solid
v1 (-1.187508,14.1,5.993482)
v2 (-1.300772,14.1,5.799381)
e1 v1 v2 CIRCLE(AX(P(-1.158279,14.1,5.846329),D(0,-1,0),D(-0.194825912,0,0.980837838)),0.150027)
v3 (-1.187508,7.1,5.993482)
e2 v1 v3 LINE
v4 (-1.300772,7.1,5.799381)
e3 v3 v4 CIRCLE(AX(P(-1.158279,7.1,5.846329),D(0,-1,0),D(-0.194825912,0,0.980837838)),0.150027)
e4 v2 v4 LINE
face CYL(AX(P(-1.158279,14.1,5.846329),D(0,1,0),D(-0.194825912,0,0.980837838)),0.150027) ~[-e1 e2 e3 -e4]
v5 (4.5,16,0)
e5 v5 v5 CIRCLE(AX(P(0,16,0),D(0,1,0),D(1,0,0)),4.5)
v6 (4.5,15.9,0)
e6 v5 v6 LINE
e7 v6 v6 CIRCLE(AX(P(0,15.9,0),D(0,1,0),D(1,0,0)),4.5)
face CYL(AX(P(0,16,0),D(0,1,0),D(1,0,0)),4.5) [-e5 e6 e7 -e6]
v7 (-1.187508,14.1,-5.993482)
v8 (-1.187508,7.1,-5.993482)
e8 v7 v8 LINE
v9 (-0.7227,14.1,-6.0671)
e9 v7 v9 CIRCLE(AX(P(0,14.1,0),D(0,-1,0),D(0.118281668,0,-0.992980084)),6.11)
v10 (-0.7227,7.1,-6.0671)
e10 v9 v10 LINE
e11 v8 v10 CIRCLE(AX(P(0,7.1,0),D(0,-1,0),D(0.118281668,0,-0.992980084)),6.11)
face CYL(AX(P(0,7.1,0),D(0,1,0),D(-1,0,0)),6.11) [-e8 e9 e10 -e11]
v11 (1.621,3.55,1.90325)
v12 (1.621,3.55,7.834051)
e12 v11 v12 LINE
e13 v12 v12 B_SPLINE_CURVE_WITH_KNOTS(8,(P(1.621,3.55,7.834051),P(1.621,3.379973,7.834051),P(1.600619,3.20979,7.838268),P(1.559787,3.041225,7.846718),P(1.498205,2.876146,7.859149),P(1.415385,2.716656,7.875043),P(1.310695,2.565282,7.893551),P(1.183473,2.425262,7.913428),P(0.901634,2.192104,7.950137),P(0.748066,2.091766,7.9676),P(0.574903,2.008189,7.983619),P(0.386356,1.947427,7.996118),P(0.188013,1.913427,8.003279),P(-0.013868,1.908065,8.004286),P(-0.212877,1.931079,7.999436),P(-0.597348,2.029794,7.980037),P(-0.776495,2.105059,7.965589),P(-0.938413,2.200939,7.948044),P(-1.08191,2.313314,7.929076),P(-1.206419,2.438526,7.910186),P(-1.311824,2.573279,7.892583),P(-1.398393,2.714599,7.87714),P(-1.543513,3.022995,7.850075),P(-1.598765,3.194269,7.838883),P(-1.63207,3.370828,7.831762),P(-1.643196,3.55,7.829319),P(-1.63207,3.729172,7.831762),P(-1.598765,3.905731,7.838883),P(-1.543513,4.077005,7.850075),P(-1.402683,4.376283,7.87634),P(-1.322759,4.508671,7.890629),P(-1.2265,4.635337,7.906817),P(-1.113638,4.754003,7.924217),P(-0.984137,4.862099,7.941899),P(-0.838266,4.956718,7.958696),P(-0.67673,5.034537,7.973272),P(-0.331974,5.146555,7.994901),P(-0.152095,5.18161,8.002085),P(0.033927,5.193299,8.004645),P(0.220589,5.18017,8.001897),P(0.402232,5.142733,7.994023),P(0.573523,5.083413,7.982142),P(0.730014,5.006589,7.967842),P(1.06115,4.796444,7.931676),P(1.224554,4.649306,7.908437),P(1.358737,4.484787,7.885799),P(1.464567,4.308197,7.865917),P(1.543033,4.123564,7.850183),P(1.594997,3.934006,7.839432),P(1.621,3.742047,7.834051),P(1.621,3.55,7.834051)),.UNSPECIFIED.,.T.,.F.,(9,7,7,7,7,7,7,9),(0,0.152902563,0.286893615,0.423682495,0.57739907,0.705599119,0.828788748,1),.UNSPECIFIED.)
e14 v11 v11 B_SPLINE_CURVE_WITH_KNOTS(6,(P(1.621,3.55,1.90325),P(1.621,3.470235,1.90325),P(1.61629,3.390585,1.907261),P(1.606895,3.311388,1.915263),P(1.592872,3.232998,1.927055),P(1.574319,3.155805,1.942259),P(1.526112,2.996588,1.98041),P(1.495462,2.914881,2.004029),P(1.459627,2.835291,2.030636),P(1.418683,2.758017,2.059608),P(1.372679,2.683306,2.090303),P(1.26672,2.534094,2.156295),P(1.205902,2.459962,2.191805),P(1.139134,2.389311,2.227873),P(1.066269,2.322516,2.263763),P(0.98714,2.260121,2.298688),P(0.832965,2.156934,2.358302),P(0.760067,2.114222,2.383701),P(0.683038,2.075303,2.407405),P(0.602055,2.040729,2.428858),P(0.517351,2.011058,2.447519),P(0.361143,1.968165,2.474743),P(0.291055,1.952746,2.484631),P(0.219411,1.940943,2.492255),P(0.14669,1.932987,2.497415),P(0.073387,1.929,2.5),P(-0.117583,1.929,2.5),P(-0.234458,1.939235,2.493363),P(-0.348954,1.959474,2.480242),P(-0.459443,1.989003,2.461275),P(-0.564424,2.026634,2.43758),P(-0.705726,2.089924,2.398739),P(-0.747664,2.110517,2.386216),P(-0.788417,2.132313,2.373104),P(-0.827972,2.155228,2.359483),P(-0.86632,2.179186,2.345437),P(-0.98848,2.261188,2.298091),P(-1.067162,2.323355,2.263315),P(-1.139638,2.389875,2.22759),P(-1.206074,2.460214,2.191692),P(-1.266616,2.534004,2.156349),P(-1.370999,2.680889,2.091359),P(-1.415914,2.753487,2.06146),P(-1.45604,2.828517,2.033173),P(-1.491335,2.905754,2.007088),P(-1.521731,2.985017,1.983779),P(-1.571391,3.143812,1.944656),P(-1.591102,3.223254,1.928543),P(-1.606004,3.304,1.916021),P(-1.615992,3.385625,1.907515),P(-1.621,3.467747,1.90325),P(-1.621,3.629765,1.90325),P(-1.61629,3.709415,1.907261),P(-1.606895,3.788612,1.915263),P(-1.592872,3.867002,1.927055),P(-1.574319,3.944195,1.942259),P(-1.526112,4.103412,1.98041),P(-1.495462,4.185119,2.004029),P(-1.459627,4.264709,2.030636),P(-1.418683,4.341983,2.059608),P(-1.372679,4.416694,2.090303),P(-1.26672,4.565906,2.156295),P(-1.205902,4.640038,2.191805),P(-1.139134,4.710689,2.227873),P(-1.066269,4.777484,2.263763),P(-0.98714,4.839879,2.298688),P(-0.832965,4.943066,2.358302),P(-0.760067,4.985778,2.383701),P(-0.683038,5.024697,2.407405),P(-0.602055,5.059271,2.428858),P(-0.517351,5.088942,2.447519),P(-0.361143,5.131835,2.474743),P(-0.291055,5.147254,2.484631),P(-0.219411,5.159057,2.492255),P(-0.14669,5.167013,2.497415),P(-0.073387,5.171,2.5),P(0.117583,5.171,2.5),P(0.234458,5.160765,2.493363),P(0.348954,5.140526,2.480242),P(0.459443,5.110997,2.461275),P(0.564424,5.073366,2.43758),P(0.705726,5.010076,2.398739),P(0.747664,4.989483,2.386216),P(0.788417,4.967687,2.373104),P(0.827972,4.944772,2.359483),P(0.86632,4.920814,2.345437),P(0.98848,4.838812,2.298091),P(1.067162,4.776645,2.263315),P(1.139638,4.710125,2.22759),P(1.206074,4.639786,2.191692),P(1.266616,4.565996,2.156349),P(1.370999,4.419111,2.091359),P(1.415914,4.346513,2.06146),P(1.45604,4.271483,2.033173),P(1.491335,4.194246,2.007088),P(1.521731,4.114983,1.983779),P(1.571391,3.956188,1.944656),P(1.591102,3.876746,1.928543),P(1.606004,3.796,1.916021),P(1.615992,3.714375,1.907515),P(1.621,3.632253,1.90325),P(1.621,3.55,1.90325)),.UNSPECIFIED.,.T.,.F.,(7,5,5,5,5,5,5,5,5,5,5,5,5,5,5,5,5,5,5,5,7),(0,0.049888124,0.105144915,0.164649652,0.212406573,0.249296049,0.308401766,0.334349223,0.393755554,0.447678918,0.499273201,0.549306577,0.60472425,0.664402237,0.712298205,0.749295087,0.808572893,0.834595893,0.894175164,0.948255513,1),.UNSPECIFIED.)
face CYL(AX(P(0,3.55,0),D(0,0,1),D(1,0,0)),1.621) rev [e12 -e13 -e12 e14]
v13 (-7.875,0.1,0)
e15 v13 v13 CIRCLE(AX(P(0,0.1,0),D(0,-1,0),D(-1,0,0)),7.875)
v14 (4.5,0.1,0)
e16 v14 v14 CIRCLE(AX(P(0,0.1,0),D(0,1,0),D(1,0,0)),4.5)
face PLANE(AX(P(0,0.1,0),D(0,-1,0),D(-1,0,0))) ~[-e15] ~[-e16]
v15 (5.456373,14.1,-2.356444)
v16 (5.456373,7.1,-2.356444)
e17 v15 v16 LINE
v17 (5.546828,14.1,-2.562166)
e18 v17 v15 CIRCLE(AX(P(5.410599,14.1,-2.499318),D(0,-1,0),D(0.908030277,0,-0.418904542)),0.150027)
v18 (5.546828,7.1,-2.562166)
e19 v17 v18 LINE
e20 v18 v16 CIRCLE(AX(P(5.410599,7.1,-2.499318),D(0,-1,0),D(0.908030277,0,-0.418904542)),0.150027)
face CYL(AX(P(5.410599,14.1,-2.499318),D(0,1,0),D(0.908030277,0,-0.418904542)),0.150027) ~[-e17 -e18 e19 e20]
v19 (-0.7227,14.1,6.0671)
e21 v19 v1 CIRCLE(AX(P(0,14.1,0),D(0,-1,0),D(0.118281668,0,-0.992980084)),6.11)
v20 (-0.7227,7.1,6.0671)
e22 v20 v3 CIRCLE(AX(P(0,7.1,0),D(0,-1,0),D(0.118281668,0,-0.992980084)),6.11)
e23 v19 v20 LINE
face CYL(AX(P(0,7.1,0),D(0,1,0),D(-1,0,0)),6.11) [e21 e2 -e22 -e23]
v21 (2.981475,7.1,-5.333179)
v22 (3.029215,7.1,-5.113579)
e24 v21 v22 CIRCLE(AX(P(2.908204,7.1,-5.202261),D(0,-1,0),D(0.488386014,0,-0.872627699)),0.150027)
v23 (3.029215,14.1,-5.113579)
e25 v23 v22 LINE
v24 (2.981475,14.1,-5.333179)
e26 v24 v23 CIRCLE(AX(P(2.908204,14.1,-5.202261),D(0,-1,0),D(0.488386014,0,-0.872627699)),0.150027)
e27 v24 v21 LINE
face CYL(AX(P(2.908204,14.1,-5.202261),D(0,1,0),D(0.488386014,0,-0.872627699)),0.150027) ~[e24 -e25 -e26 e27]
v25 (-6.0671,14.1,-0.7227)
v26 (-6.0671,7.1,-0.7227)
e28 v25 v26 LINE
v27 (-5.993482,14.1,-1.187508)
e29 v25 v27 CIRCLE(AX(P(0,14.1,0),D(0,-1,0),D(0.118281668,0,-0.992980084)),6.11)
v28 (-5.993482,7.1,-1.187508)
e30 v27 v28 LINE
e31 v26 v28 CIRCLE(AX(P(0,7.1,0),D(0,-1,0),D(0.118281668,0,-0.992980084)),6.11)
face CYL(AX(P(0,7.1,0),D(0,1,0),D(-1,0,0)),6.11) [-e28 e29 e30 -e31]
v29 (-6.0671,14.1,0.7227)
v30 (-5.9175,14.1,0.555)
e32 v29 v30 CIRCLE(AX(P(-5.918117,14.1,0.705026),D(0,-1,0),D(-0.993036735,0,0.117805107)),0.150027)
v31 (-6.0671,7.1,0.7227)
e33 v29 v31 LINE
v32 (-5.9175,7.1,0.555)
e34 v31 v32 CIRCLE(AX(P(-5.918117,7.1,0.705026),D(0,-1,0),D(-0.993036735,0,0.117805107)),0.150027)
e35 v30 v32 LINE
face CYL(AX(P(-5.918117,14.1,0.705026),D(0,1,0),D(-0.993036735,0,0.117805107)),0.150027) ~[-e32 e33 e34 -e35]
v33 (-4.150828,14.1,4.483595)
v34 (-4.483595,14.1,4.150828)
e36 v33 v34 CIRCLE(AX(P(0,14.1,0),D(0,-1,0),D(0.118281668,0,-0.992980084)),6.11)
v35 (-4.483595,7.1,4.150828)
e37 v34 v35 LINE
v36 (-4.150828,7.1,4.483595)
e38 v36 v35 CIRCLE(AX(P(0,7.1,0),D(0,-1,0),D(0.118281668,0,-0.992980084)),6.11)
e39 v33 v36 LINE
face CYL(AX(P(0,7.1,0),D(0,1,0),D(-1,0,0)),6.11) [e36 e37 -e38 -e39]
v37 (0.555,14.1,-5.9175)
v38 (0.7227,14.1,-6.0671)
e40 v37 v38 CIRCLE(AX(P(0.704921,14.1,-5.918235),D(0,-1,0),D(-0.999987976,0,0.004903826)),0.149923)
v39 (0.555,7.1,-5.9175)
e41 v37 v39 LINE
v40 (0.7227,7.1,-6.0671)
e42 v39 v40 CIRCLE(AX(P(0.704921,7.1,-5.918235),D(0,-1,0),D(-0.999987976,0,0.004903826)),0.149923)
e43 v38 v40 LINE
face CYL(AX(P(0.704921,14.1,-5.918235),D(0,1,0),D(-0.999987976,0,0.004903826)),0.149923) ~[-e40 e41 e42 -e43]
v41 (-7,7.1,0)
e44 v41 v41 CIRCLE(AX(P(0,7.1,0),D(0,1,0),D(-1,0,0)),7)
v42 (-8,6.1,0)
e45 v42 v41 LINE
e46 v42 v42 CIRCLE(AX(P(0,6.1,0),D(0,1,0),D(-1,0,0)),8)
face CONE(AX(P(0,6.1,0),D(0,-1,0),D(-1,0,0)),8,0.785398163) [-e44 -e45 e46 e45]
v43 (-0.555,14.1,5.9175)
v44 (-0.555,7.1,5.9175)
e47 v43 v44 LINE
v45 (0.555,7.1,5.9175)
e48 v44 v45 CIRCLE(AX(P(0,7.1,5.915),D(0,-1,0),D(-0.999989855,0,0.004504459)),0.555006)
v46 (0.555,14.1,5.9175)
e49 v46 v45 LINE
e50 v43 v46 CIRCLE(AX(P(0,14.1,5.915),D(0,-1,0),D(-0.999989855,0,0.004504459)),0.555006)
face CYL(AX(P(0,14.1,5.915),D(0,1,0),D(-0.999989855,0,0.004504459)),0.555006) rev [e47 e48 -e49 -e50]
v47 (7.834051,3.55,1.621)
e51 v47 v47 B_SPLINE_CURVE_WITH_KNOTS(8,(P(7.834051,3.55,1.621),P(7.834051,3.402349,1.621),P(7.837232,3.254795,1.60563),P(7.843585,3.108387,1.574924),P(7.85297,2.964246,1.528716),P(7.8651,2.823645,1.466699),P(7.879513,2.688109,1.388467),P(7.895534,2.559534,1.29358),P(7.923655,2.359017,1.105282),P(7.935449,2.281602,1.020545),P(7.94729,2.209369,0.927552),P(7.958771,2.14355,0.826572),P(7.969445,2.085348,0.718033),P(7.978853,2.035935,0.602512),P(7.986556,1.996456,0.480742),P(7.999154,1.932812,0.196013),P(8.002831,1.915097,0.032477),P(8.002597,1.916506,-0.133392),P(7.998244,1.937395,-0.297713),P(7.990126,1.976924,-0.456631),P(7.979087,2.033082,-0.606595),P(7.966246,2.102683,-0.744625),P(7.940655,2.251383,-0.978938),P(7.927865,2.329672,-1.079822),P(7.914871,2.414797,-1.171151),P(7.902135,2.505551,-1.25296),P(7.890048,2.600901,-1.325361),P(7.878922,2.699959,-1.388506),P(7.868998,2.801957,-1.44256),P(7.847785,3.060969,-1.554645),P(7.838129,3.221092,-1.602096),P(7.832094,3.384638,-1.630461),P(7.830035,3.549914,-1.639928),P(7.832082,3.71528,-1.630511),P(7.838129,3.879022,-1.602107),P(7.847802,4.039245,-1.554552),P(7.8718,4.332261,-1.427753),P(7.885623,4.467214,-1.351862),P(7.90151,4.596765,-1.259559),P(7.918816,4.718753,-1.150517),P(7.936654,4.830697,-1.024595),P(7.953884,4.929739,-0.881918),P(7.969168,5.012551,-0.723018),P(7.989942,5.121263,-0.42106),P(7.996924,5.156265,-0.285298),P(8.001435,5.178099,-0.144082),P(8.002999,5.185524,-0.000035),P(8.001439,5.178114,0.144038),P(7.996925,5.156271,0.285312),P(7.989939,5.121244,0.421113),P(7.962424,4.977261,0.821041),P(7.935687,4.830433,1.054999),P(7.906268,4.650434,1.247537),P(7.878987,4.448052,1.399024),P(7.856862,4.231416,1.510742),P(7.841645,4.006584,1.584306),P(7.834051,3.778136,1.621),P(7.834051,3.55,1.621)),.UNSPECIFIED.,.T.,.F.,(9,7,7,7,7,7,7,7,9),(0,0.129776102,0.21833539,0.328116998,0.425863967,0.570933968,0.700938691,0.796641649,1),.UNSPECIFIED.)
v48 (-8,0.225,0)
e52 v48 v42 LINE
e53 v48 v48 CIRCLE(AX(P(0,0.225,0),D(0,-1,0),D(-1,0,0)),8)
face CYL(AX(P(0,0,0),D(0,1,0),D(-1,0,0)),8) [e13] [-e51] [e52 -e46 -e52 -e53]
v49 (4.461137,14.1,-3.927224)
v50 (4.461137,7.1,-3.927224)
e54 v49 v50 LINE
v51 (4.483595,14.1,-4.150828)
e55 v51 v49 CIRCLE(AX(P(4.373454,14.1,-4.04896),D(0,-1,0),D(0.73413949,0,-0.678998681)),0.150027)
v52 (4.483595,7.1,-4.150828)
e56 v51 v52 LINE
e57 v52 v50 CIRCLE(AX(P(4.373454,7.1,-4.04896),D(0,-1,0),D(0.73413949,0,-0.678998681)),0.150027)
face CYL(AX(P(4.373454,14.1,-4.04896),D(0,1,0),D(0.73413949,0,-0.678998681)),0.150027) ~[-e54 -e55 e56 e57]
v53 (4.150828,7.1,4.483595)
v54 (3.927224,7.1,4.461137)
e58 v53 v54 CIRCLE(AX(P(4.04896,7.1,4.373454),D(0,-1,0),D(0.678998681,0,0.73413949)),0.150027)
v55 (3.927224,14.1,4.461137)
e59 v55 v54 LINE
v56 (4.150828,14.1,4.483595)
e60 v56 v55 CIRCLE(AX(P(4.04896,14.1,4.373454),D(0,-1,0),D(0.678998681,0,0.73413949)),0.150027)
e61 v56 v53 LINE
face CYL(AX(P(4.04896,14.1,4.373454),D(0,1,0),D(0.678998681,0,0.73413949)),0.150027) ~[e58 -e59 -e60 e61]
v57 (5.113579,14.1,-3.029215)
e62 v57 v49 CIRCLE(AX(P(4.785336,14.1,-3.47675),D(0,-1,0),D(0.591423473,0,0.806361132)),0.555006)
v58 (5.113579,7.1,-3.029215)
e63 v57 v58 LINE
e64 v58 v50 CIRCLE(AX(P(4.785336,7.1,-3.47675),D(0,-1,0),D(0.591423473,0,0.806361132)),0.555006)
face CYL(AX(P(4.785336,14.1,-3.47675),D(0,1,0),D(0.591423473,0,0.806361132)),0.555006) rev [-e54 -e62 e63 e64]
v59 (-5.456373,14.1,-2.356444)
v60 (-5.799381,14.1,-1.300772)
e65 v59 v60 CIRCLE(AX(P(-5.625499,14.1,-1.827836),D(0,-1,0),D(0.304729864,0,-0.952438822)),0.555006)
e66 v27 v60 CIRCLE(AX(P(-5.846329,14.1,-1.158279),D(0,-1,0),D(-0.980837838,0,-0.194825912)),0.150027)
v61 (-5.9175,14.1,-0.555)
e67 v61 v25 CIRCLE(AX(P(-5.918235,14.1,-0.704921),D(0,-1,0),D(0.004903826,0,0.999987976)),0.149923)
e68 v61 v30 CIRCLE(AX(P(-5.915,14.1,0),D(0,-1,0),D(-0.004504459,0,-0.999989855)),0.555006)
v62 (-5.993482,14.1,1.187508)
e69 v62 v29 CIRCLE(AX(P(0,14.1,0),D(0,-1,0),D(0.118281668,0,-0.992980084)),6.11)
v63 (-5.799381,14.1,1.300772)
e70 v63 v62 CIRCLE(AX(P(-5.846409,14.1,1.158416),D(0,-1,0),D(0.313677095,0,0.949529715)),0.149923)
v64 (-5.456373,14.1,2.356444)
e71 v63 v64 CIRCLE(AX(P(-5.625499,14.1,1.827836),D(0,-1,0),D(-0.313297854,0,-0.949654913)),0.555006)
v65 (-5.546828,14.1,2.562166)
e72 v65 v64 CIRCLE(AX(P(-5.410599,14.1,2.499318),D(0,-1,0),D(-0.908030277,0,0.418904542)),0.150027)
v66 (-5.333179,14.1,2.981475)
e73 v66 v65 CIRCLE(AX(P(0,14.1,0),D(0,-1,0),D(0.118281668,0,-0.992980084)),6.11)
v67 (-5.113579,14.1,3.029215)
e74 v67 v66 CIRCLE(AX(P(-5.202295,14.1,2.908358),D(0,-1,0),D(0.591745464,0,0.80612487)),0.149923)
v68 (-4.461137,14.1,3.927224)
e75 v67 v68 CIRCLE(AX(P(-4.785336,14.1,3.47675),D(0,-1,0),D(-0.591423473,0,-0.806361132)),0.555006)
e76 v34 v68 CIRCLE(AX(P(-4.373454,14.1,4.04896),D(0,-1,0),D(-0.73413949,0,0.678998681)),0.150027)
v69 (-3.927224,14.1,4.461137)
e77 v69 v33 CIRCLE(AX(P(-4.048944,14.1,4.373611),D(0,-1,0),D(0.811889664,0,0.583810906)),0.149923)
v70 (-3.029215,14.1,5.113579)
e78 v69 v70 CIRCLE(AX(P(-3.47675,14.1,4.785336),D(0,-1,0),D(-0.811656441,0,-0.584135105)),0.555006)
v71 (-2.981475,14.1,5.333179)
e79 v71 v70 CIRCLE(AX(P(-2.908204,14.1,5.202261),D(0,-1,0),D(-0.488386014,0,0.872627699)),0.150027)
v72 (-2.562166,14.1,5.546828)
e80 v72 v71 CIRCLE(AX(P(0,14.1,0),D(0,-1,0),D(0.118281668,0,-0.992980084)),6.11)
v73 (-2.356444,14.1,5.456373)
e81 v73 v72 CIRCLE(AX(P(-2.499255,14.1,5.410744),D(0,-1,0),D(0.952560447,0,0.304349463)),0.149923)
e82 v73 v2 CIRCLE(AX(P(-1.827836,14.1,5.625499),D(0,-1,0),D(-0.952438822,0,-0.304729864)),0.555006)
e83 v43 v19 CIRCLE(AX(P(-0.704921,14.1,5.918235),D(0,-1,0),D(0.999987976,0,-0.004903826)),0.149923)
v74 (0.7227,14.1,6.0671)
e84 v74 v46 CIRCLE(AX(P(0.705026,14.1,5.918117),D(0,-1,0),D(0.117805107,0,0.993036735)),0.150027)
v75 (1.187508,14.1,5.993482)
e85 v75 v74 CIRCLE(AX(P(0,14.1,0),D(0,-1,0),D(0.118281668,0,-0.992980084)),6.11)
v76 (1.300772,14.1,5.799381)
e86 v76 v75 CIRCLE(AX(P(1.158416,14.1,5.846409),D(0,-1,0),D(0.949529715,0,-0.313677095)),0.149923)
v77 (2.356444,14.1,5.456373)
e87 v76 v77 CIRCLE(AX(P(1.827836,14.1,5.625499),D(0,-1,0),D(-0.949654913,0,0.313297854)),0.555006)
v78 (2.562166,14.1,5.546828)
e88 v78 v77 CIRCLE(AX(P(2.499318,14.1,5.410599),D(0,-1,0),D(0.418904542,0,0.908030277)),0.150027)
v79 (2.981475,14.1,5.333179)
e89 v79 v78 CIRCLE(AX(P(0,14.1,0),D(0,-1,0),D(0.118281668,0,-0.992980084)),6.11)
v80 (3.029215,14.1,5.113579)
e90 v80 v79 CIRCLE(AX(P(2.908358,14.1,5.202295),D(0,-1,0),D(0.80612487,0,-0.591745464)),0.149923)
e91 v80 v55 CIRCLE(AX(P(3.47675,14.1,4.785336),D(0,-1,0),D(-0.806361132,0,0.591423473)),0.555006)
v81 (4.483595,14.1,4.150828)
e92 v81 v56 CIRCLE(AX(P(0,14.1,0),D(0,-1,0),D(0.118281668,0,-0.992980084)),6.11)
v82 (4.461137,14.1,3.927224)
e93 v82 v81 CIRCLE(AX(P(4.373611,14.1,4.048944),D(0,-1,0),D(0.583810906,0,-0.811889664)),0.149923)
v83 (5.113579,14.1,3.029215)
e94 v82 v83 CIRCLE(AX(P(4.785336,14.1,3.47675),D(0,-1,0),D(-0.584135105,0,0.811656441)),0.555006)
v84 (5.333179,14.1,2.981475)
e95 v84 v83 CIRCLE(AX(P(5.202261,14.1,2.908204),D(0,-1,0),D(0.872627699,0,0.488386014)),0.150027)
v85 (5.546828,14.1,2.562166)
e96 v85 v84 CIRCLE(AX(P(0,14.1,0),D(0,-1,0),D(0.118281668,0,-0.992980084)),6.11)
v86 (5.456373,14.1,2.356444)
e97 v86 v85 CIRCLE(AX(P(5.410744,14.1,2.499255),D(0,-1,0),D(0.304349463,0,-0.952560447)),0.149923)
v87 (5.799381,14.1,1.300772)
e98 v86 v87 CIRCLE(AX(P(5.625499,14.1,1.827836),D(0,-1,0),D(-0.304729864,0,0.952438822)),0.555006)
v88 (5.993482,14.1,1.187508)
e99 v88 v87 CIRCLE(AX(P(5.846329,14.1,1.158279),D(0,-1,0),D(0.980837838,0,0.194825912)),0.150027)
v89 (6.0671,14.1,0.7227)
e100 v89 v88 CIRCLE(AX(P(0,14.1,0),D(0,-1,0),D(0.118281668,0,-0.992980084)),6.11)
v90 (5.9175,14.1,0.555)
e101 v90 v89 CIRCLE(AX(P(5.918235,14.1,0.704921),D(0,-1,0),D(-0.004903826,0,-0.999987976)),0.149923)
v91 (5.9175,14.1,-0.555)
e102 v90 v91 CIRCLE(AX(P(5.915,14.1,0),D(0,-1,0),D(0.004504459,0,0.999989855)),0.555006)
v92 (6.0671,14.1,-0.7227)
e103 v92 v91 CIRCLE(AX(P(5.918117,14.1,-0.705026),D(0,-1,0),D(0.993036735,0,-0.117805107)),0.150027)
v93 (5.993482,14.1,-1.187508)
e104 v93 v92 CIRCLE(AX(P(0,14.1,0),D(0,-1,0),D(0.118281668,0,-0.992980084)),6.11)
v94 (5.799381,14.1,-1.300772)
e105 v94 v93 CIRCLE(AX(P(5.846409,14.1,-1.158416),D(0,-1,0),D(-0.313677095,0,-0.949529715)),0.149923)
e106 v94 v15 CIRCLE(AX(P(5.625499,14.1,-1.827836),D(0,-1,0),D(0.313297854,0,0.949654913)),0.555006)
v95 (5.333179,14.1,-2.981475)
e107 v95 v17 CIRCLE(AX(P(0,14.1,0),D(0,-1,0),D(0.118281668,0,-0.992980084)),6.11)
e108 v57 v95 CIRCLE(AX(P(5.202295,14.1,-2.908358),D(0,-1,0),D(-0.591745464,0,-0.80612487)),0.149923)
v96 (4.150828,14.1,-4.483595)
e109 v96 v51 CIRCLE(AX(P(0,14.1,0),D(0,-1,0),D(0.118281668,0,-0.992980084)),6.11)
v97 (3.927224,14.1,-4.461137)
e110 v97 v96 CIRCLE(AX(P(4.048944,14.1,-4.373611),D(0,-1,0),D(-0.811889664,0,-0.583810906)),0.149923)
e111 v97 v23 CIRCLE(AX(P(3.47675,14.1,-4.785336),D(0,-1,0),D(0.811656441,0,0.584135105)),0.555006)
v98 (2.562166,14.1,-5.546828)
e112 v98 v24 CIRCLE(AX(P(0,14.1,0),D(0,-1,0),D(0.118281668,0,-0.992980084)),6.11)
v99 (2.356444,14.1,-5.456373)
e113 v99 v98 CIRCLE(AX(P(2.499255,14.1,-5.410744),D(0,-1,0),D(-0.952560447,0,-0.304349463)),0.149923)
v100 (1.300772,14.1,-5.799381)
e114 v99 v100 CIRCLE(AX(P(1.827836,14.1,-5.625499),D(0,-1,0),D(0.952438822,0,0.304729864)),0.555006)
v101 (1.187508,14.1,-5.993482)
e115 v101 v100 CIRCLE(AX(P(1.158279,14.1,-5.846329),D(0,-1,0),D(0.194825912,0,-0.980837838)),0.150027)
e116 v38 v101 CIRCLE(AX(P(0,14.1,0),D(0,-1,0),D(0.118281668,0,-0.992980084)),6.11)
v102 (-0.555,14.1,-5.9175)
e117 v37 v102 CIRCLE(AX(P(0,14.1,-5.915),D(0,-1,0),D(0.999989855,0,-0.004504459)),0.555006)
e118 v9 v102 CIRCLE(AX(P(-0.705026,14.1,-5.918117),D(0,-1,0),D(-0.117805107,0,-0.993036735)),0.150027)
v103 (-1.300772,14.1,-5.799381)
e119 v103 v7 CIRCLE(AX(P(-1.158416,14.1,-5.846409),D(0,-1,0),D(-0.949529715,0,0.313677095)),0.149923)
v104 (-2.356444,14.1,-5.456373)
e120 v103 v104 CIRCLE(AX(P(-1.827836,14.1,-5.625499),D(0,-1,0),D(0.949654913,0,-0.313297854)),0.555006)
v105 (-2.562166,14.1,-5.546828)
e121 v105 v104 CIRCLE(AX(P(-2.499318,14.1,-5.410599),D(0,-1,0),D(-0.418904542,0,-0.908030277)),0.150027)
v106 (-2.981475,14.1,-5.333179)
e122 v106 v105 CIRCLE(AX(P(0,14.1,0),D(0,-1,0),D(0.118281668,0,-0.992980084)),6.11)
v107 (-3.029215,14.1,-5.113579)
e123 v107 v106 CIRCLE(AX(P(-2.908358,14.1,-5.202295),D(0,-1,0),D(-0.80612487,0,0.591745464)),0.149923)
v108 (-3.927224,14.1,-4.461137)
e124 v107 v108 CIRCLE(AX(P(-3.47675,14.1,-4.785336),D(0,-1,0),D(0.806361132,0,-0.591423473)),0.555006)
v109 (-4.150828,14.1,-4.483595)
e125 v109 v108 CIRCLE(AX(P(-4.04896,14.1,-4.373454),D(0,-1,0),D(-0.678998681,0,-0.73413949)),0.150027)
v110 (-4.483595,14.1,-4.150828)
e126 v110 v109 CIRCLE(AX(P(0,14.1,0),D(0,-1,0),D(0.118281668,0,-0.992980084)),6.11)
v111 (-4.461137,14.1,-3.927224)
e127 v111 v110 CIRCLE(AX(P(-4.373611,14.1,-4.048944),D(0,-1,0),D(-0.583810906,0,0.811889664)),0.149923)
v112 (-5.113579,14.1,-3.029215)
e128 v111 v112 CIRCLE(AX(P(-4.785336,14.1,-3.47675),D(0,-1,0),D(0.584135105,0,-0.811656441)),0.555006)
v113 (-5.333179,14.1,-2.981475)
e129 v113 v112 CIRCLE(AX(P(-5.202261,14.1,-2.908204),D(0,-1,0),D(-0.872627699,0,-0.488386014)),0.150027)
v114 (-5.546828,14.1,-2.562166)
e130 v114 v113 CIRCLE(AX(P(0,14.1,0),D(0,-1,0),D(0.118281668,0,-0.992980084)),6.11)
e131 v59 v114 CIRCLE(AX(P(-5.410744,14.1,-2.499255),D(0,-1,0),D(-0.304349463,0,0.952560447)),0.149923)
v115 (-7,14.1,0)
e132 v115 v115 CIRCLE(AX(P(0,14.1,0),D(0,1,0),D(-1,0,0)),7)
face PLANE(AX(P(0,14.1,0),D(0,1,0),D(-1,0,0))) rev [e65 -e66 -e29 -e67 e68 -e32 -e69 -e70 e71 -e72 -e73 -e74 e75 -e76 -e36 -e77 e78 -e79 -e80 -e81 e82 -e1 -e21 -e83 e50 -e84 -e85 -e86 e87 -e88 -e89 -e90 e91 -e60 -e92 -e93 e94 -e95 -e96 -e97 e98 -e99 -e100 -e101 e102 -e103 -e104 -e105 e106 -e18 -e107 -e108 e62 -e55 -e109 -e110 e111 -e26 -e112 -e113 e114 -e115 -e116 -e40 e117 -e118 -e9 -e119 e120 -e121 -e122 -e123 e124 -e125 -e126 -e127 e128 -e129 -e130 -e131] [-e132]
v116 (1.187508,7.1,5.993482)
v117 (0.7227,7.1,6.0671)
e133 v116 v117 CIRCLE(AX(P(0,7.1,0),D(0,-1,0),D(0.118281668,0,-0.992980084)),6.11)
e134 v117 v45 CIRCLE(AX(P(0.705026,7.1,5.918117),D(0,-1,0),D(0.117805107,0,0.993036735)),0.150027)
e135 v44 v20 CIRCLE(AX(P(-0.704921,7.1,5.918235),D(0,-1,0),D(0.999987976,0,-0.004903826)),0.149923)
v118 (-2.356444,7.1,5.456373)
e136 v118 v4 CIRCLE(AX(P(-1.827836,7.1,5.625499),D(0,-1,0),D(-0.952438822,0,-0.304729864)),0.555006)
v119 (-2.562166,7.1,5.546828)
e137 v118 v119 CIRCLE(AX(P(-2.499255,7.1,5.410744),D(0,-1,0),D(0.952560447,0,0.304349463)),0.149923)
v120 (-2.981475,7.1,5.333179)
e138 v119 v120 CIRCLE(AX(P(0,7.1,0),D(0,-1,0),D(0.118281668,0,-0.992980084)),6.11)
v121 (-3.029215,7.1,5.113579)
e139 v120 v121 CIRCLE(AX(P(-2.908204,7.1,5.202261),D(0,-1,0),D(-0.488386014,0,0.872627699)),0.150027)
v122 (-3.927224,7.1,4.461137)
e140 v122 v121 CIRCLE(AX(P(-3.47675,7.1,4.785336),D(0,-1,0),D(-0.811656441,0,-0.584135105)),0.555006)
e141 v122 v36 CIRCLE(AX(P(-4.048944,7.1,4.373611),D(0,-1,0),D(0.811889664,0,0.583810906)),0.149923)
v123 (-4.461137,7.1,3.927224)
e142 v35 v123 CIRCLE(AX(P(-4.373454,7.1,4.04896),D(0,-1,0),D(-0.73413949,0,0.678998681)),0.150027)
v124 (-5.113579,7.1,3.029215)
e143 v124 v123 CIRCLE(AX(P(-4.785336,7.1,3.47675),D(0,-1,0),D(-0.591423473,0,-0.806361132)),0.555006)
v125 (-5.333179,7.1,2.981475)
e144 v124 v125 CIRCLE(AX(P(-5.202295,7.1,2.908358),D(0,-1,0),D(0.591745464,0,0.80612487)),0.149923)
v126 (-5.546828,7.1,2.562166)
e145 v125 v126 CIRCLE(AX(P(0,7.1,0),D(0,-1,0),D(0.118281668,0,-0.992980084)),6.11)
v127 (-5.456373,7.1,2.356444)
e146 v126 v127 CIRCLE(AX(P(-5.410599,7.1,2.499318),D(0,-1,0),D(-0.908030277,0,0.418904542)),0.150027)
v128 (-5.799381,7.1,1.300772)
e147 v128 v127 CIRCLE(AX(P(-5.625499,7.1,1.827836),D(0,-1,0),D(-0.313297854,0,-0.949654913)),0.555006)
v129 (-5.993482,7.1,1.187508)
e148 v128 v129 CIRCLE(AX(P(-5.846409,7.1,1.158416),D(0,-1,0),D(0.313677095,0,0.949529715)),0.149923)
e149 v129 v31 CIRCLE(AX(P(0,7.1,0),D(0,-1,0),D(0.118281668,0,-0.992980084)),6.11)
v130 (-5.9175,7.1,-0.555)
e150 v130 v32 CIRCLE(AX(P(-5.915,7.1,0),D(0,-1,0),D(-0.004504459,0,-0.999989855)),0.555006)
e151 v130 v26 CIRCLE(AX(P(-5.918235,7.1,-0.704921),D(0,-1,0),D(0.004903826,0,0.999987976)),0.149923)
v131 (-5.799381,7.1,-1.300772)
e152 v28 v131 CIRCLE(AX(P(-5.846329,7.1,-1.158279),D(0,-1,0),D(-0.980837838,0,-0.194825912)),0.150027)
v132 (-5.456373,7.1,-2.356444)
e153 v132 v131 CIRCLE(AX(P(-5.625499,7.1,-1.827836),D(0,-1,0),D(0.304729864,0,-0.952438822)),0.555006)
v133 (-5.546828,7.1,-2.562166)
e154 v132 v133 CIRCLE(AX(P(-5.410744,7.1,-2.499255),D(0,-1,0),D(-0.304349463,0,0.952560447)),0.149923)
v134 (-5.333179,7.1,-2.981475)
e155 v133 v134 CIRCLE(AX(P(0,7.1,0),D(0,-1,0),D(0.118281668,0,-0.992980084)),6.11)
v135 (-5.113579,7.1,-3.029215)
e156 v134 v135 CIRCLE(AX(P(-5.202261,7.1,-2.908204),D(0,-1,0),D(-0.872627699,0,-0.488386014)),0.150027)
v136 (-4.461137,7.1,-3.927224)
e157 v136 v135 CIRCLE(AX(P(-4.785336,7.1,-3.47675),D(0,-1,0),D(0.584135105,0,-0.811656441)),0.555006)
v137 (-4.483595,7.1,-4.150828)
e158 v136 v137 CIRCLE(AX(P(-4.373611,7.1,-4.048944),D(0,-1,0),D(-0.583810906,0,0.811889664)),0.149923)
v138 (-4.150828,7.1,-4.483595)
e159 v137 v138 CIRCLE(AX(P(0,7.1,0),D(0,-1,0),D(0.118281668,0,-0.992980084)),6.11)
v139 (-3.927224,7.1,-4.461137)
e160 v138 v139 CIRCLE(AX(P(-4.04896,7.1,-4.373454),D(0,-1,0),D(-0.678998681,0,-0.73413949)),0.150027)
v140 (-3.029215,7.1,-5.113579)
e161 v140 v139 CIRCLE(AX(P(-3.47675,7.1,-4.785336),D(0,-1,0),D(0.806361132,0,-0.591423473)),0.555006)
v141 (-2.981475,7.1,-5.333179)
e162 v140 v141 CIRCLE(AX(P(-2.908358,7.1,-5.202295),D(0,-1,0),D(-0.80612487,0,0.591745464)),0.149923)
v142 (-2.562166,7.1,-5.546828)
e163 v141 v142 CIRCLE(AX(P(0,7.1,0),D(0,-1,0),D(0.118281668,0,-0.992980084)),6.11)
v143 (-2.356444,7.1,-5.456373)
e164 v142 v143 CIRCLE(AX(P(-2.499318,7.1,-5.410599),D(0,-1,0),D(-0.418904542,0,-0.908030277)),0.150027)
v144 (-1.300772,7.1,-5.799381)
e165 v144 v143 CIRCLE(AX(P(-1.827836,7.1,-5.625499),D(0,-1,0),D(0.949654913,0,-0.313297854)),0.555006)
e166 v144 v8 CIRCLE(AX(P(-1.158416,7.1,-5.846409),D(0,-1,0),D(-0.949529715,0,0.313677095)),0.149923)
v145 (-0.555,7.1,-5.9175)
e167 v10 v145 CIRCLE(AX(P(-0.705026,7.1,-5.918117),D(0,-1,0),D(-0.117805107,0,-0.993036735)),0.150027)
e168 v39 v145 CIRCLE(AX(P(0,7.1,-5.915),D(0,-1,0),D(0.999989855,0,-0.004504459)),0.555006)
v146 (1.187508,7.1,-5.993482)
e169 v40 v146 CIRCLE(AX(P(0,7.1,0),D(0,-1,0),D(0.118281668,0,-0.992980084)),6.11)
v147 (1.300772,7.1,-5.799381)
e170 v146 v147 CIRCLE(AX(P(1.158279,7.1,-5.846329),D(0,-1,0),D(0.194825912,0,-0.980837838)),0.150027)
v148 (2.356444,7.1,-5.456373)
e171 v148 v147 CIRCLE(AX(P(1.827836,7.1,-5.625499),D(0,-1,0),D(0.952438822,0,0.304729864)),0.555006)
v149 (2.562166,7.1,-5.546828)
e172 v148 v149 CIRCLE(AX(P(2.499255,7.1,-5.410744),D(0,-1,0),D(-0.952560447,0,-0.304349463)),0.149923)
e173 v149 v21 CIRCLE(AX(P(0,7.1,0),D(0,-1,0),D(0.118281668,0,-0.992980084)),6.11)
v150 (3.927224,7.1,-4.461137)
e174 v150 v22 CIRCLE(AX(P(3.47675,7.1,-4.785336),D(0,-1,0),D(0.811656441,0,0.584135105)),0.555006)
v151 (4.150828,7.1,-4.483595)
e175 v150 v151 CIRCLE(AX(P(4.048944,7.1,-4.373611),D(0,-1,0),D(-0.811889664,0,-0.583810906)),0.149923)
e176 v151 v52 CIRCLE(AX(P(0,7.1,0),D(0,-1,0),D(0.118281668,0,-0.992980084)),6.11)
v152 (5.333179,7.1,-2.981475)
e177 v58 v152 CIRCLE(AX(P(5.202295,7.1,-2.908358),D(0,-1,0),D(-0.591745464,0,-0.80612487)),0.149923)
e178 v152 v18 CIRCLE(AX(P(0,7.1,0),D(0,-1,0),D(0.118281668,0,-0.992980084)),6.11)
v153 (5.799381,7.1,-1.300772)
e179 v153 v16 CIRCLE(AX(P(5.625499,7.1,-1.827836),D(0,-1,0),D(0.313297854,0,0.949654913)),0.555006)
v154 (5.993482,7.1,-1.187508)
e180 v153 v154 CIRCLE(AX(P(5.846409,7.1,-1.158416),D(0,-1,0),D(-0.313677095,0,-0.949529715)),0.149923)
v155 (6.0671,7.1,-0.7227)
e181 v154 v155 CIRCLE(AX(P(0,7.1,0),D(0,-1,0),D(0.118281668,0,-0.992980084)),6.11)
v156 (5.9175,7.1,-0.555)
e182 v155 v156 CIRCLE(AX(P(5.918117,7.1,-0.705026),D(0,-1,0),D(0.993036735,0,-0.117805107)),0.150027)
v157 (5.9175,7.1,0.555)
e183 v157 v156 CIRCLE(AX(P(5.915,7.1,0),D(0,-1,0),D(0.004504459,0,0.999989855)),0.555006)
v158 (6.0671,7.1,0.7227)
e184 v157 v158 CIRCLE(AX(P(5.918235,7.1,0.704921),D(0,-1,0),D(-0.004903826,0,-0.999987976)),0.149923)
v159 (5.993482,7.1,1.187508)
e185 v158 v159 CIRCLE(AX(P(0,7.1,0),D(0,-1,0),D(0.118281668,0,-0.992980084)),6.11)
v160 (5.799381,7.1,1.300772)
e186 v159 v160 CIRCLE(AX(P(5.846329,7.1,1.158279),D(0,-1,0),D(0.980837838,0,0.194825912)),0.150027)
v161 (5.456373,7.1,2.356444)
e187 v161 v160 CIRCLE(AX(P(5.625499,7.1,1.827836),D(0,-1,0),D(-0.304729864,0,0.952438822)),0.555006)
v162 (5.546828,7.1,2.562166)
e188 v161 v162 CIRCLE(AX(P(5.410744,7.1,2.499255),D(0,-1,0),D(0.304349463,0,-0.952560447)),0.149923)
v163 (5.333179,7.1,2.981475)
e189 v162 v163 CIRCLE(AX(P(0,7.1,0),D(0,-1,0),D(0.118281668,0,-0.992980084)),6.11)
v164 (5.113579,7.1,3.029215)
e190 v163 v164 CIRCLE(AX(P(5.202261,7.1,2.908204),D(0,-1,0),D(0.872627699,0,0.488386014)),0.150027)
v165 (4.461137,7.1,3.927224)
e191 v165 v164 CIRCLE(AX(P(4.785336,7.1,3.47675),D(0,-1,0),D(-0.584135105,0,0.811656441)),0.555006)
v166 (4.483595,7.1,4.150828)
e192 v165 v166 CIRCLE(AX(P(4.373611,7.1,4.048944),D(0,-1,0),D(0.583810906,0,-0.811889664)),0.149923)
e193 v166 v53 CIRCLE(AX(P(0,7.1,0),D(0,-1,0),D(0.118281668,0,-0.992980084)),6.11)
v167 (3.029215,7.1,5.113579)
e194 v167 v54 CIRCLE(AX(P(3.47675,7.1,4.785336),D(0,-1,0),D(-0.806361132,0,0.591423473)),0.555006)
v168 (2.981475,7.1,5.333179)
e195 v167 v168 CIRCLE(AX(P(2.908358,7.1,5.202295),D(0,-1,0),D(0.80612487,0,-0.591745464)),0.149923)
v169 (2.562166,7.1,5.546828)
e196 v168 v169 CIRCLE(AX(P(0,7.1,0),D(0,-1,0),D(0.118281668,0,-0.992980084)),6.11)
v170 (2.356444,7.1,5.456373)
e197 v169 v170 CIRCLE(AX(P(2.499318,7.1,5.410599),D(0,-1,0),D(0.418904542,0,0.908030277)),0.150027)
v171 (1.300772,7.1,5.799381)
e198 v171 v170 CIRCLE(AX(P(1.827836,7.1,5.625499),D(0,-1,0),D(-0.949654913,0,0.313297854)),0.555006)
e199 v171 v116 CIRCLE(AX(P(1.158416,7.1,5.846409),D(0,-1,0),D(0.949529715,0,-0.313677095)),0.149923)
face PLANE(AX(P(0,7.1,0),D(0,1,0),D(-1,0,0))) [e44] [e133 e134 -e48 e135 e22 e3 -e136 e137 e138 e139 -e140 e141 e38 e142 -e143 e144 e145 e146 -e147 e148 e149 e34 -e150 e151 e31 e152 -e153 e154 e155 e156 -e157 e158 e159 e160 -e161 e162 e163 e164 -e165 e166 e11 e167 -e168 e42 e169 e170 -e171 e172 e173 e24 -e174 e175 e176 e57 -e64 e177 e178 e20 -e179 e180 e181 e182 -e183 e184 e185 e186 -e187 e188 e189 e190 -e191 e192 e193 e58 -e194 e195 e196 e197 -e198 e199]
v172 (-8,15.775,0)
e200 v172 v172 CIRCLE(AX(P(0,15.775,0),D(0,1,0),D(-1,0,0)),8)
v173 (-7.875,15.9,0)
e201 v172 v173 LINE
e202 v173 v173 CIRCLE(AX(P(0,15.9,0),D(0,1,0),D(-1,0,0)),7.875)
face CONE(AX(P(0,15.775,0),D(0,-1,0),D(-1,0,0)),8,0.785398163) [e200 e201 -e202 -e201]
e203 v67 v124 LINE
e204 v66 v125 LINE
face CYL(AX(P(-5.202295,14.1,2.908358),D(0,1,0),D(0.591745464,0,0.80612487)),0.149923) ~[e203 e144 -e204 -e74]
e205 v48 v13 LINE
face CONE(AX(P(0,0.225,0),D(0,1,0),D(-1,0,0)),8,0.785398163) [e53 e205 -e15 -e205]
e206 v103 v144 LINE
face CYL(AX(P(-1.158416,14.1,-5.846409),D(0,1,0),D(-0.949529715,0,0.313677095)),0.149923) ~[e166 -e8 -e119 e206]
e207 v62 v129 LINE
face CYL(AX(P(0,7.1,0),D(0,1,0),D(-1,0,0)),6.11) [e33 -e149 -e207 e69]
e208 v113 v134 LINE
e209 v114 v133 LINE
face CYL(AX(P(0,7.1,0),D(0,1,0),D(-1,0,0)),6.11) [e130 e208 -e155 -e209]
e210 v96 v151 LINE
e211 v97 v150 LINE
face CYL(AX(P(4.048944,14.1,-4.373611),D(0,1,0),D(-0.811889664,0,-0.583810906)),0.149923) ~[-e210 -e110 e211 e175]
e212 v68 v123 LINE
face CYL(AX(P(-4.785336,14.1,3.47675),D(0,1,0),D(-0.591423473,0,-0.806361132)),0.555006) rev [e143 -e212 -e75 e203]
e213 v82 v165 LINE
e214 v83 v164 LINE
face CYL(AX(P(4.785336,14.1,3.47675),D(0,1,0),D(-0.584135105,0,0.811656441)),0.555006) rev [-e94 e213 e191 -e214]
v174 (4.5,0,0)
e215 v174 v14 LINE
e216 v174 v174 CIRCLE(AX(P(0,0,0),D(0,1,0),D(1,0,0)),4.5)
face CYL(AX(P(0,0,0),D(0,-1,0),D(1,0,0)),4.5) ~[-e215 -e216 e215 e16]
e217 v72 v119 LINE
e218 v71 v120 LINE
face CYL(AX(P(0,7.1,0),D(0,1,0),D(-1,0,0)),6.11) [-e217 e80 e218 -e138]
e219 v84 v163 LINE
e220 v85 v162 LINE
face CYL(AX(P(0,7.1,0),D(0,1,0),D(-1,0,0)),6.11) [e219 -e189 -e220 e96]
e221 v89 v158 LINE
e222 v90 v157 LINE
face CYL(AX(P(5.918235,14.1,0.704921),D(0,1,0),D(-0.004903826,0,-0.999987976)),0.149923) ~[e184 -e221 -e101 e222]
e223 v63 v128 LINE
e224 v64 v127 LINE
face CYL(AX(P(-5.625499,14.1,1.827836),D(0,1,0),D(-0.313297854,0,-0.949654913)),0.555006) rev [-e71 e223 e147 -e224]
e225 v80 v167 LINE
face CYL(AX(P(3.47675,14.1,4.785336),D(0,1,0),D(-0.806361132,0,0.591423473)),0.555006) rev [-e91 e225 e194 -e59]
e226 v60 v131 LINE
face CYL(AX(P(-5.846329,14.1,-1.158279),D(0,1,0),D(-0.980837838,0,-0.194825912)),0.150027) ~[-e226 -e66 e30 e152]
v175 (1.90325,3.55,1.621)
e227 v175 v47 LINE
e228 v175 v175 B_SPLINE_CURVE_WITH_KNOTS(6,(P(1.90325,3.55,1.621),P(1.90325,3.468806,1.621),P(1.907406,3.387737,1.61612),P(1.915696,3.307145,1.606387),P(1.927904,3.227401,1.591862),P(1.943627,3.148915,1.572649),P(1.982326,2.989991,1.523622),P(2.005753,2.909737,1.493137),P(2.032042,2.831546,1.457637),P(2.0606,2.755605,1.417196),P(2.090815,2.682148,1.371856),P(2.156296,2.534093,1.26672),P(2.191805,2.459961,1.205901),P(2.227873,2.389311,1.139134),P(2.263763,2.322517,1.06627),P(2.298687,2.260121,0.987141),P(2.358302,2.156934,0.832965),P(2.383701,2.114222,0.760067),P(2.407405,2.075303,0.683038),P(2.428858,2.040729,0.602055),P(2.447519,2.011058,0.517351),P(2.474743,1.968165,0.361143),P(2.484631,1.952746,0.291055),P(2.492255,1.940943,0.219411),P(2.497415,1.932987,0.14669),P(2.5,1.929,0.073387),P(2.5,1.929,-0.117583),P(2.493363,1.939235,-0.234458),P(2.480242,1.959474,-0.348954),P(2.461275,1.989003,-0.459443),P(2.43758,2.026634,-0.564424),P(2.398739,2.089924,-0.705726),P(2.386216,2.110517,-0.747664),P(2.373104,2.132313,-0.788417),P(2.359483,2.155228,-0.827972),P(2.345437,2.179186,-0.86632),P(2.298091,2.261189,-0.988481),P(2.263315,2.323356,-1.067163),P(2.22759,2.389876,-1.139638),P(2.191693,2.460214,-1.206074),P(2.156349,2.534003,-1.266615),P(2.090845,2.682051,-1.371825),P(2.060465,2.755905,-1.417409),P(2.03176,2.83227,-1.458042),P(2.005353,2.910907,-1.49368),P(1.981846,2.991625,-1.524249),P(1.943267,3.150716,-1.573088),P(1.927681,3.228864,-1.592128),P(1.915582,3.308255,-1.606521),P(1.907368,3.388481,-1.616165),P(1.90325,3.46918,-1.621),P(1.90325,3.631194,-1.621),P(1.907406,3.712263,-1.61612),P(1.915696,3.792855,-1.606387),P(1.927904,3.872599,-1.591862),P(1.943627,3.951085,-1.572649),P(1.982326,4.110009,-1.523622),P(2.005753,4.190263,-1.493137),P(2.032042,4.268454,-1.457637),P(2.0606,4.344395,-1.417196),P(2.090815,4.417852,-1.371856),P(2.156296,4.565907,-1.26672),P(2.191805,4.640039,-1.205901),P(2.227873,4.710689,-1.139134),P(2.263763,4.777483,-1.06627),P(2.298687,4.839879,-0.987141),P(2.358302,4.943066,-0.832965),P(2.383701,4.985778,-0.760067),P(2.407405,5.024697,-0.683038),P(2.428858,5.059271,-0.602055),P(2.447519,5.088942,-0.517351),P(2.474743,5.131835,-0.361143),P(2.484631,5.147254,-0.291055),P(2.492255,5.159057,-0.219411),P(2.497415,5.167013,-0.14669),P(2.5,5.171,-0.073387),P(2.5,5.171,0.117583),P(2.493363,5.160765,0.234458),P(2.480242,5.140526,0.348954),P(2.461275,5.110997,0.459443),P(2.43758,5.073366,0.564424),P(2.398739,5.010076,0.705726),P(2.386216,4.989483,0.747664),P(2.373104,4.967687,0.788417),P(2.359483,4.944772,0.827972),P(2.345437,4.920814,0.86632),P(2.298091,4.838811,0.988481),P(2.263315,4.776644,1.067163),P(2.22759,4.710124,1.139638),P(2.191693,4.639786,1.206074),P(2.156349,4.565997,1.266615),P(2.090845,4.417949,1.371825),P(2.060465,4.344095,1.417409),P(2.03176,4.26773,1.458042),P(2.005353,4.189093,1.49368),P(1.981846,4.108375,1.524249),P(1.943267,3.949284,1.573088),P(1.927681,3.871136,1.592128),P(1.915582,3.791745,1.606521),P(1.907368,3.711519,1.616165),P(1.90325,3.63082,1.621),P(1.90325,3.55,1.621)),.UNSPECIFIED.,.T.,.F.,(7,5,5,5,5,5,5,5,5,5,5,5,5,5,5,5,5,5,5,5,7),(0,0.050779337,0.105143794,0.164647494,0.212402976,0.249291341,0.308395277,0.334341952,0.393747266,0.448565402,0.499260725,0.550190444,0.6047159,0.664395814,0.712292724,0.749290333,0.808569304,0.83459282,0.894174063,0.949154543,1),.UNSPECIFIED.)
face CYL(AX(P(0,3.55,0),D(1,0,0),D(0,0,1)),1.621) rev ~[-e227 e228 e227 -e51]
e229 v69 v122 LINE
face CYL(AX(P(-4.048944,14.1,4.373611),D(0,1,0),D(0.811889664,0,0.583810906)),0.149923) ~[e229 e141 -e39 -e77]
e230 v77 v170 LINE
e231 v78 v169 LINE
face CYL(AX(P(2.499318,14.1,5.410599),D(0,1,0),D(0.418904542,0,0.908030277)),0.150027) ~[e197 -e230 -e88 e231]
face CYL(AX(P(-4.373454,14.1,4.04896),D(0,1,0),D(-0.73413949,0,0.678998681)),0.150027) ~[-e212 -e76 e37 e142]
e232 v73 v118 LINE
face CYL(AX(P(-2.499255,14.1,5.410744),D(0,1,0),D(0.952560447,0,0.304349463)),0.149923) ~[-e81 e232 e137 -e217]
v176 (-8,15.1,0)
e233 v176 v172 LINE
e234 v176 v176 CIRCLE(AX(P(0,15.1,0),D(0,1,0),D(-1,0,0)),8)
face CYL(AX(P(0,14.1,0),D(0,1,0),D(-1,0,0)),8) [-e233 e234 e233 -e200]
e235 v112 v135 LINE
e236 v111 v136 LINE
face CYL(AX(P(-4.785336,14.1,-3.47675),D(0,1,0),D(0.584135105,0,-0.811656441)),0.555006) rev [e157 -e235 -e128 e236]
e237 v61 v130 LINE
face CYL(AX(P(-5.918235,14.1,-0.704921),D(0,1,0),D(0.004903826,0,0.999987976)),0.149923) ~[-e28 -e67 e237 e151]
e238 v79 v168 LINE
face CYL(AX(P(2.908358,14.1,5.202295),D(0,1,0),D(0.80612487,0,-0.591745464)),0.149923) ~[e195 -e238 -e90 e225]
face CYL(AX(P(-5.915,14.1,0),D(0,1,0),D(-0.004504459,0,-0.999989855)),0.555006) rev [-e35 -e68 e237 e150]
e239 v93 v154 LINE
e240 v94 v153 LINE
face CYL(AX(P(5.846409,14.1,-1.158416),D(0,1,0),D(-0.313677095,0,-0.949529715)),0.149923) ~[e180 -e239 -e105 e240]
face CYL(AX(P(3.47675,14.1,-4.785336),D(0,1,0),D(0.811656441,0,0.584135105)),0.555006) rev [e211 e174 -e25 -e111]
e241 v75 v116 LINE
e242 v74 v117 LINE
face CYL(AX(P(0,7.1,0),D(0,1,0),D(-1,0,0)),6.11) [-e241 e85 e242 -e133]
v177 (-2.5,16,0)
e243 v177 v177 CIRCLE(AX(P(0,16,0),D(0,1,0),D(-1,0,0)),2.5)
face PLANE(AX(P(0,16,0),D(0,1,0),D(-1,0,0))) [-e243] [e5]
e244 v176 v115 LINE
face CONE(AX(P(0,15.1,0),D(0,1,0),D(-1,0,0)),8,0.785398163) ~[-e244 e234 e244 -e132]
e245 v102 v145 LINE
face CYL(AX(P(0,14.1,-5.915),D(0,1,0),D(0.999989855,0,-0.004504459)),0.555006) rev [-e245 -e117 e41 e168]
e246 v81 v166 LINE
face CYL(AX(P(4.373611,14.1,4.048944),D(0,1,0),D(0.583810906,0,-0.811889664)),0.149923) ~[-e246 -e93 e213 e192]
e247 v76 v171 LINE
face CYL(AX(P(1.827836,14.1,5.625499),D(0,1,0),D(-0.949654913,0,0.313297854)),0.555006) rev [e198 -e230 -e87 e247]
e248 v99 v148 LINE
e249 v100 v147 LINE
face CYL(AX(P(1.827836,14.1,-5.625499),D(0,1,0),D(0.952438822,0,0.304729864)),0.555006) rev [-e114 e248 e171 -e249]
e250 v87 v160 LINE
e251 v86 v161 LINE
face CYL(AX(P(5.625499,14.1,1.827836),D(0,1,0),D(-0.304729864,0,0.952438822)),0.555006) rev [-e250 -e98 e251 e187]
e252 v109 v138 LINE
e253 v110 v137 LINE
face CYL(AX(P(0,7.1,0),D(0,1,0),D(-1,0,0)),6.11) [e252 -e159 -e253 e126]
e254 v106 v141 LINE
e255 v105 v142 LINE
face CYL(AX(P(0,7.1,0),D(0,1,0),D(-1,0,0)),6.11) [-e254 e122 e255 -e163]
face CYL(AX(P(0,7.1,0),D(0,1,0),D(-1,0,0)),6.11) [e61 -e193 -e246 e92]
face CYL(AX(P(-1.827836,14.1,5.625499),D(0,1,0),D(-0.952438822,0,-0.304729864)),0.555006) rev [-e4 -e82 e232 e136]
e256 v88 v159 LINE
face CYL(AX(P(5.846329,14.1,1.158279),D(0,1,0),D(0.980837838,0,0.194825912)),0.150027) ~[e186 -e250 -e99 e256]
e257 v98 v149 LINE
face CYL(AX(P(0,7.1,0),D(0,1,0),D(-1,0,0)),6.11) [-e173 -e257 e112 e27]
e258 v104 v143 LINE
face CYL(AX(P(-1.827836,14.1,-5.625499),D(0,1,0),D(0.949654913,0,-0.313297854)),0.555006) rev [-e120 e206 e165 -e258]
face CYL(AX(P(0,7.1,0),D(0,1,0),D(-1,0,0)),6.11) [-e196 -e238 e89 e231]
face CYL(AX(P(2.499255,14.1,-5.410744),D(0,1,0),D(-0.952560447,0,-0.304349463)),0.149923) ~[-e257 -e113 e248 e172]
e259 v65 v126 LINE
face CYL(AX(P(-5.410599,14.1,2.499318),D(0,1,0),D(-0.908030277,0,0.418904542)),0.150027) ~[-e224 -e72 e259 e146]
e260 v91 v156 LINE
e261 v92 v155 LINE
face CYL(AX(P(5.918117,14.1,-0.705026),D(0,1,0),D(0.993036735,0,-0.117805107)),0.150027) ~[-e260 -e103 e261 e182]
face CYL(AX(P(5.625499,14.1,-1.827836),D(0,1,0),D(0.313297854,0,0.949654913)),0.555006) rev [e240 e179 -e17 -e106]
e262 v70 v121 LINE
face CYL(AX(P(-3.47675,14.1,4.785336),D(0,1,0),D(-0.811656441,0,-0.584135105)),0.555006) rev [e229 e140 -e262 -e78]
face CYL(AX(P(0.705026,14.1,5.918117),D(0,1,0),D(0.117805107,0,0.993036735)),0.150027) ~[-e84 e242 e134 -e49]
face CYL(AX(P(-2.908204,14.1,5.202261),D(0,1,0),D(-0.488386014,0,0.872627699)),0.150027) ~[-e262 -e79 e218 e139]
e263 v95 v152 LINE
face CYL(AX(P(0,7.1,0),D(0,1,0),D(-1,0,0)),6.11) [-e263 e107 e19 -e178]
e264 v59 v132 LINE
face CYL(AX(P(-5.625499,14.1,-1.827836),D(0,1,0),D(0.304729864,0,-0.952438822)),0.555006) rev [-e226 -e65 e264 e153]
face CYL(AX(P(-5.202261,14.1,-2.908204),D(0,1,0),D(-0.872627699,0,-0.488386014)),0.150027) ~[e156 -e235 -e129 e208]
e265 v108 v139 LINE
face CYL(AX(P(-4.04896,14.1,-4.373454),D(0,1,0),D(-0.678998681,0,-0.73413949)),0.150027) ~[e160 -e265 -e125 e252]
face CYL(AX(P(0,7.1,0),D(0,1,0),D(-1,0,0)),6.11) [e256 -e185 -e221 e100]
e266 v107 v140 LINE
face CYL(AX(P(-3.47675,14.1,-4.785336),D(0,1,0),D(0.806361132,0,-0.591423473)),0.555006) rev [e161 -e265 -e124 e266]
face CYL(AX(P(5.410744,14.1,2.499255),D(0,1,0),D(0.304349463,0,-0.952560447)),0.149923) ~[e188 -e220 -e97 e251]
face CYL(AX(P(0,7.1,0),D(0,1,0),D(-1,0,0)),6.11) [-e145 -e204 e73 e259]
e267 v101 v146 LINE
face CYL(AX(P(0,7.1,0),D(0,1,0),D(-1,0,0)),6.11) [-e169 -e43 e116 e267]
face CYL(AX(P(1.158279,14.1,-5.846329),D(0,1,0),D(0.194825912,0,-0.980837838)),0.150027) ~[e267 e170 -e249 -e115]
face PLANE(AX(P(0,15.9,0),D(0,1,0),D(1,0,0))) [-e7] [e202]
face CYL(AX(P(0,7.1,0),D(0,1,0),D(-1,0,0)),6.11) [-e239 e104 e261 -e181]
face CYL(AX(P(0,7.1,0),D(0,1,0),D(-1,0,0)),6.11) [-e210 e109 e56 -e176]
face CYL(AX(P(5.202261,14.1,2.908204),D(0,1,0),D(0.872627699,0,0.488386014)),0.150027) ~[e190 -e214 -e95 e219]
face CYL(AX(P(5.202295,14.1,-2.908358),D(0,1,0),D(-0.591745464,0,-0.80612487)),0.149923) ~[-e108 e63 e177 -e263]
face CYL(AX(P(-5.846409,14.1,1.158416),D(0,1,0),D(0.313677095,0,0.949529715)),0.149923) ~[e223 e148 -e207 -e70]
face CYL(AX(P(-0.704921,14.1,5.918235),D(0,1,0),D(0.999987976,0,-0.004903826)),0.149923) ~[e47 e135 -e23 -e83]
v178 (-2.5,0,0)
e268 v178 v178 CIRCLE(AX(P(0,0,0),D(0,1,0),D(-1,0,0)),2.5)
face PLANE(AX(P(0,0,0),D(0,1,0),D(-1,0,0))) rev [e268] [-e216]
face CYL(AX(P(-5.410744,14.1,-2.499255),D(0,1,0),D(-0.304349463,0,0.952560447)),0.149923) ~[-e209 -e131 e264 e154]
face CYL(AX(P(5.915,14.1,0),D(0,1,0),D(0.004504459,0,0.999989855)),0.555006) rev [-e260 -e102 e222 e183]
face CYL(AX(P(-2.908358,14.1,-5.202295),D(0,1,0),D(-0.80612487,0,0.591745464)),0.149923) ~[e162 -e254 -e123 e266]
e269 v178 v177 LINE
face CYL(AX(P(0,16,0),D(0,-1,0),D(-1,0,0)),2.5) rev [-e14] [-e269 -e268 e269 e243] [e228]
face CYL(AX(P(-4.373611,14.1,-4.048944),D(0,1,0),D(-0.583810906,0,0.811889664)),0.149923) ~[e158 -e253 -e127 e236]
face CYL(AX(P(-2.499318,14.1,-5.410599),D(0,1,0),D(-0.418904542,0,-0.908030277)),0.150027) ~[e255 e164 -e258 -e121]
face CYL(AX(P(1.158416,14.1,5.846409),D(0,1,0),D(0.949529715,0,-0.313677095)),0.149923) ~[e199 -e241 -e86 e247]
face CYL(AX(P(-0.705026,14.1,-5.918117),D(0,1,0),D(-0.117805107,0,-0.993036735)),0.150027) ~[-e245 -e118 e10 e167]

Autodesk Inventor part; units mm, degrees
sketch "Sketch1" plane through (0, 0, 0) normal (0, 0, 1) x (1, 0, 0)
  line L0 (0, 0) -> (-8, 0)
  line L1 (-8, 0) -> (-8, 7.1)
  line L2 (-8, 7.1) -> (0, 7.1)
  line L3 (0, 7.1) -> (0, 0)
  line L4 (0, 7.1) -> (-6.11, 7.1)
  line L5 (-6.11, 7.1) -> (-6.11, 14.1)
  line L6 (-6.11, 14.1) -> (0, 14.1)
  line L7 (0, 14.1) -> (0, 7.1)
  line L8 (0, 14.1) -> (-8, 14.1)
  line L9 (-8, 14.1) -> (-8, 16)
  line L10 (-8, 16) -> (0, 16)
  line L11 (0, 16) -> (0, 14.1)
  line L12 (0, 16) -> (-2.5, 16)
  line L13 (-2.5, 16) -> (-2.5, 0)
  line L14 (-2.5, 0) -> (0, 0)
  line L15 (0, 0) -> (0, 16)
  point P0 (-6.11, 7.1)
  dimension "d0" = 8
  dimension "d1" = 2.5
  dimension "d2" = 16
  dimension "d3" = 7
  dimension "d4" = 7.1
  dimension "d5" = 6.11
revolve "Revolution1" add sketch "Sketch1" angle 360 about axis through (0, 0, 0) along (0, 1, 0) contours L0 L1 L2 L13 | L2 L5 L6 L13 | L6 L8 L9 L10 L13
sketch "Sketch2" plane through (0, 16, 0) normal (0, 1, 0) x (1, 0, 0)
  circle A0 centre (0, 0) radius 8 projected
  circle A1 centre (0, 0) radius 2.5 projected
  circle A2 centre (0, 0) radius 4.5
  dimension "d34" = 9
extrude "Extrusion1" cut sketch "Sketch2" against normal blind 0.1 contours A0
ref_plane "Work Plane1" through (0, 8, 0) normal (0, 1, 0) x (1, 0, 0)
mirror "Mirror1" about plane through (0, 8, 0) normal (0, 1, 0) of "Extrusion1"
chamfer "Chamfer2" distance 1 angle 45 2 edges at (8, 14.1, 0) (8, 7.1, 0)
chamfer "Chamfer1" distance 0.125 angle 45 2 edges at (8, 15.9, 0) (8, 0.1, 0)
ref_plane "Work Plane2" through (0, 3.55, 0) normal (0, 1, 0) x (1, 0, 0)
sketch "Sketch3" plane through (0, 0, 0) normal (1, 0, 0) x (0, 1, 0)
  line L0 (3.55, 11.2) -> (3.55, -11.2) projected
  line L1 (-0.71, 0) -> (4.26, 0) projected
  point P0 (0, 0)
  point P1 (3.55, 0)
hole "Hole1" at (0, 3.55, 0) direction (1, 0, 0) diameter 3.242 end through all thread size "M4x0.7" class "6H" standard "ANSI Metric M Profile"
ref_plane "Work Plane3" through (0, 0, 0) normal (-0.7071, 0, 0.7071) x (0, -1, 0)
mirror "Mirror2" about plane through (0, 0, 0) normal (-0.7071, 0, 0.7071) of "Hole1"
sketch "Sketch5" plane through (0, 14.1, 0) normal (0, -1, 0) x (1, 0, 0)
  circle A0 centre (0, 0) radius 6.11 projected
  circle A1 centre (0, 0) radius 2.5 projected
  circle A2 centre (0, 0) radius 6.11 construction
  circle A3 centre (0, 0) radius 6.11 construction
  arc A4 (-0.7227, -6.0671) -> (0.7227, -6.0671) centre (0, 0) ccw
  arc A5 (0.555, -5.9175) -> (0.7227, -6.0671) centre (0.705, -5.9182) ccw
  arc A6 (-0.7227, -6.0671) -> (-0.555, -5.9175) centre (-0.705, -5.9182) ccw
  arc A7 (0.555, -5.9175) -> (-0.555, -5.9175) centre (0, -5.915) ccw
  circle A8 centre (0, 0) radius 7 projected
  point P0 (0.7227, -6.0671)
  dimension "d22" = 12.22
  dimension "d23" = 0.15
  dimension "d24" = 0.555
  dimension "d25" = 0.75
extrude "Extrusion2" cut sketch "Sketch5" along normal up to surface (7 mm away) contours A6 A7 A5 A0 picked at (-0.0224, -5.8582)
pattern_circular "Circular Pattern1" count 20 over 360 about axis through (0, 8, 0) along (0, 1, 0) of "Extrusion2"
ref_plane "Work Plane4" through (0, 10.6, 0) normal (0, -1, 0) x (1, 0, 0)
properties part number "6mm 20T GT2 Timing Pulley 5mm Bore"
